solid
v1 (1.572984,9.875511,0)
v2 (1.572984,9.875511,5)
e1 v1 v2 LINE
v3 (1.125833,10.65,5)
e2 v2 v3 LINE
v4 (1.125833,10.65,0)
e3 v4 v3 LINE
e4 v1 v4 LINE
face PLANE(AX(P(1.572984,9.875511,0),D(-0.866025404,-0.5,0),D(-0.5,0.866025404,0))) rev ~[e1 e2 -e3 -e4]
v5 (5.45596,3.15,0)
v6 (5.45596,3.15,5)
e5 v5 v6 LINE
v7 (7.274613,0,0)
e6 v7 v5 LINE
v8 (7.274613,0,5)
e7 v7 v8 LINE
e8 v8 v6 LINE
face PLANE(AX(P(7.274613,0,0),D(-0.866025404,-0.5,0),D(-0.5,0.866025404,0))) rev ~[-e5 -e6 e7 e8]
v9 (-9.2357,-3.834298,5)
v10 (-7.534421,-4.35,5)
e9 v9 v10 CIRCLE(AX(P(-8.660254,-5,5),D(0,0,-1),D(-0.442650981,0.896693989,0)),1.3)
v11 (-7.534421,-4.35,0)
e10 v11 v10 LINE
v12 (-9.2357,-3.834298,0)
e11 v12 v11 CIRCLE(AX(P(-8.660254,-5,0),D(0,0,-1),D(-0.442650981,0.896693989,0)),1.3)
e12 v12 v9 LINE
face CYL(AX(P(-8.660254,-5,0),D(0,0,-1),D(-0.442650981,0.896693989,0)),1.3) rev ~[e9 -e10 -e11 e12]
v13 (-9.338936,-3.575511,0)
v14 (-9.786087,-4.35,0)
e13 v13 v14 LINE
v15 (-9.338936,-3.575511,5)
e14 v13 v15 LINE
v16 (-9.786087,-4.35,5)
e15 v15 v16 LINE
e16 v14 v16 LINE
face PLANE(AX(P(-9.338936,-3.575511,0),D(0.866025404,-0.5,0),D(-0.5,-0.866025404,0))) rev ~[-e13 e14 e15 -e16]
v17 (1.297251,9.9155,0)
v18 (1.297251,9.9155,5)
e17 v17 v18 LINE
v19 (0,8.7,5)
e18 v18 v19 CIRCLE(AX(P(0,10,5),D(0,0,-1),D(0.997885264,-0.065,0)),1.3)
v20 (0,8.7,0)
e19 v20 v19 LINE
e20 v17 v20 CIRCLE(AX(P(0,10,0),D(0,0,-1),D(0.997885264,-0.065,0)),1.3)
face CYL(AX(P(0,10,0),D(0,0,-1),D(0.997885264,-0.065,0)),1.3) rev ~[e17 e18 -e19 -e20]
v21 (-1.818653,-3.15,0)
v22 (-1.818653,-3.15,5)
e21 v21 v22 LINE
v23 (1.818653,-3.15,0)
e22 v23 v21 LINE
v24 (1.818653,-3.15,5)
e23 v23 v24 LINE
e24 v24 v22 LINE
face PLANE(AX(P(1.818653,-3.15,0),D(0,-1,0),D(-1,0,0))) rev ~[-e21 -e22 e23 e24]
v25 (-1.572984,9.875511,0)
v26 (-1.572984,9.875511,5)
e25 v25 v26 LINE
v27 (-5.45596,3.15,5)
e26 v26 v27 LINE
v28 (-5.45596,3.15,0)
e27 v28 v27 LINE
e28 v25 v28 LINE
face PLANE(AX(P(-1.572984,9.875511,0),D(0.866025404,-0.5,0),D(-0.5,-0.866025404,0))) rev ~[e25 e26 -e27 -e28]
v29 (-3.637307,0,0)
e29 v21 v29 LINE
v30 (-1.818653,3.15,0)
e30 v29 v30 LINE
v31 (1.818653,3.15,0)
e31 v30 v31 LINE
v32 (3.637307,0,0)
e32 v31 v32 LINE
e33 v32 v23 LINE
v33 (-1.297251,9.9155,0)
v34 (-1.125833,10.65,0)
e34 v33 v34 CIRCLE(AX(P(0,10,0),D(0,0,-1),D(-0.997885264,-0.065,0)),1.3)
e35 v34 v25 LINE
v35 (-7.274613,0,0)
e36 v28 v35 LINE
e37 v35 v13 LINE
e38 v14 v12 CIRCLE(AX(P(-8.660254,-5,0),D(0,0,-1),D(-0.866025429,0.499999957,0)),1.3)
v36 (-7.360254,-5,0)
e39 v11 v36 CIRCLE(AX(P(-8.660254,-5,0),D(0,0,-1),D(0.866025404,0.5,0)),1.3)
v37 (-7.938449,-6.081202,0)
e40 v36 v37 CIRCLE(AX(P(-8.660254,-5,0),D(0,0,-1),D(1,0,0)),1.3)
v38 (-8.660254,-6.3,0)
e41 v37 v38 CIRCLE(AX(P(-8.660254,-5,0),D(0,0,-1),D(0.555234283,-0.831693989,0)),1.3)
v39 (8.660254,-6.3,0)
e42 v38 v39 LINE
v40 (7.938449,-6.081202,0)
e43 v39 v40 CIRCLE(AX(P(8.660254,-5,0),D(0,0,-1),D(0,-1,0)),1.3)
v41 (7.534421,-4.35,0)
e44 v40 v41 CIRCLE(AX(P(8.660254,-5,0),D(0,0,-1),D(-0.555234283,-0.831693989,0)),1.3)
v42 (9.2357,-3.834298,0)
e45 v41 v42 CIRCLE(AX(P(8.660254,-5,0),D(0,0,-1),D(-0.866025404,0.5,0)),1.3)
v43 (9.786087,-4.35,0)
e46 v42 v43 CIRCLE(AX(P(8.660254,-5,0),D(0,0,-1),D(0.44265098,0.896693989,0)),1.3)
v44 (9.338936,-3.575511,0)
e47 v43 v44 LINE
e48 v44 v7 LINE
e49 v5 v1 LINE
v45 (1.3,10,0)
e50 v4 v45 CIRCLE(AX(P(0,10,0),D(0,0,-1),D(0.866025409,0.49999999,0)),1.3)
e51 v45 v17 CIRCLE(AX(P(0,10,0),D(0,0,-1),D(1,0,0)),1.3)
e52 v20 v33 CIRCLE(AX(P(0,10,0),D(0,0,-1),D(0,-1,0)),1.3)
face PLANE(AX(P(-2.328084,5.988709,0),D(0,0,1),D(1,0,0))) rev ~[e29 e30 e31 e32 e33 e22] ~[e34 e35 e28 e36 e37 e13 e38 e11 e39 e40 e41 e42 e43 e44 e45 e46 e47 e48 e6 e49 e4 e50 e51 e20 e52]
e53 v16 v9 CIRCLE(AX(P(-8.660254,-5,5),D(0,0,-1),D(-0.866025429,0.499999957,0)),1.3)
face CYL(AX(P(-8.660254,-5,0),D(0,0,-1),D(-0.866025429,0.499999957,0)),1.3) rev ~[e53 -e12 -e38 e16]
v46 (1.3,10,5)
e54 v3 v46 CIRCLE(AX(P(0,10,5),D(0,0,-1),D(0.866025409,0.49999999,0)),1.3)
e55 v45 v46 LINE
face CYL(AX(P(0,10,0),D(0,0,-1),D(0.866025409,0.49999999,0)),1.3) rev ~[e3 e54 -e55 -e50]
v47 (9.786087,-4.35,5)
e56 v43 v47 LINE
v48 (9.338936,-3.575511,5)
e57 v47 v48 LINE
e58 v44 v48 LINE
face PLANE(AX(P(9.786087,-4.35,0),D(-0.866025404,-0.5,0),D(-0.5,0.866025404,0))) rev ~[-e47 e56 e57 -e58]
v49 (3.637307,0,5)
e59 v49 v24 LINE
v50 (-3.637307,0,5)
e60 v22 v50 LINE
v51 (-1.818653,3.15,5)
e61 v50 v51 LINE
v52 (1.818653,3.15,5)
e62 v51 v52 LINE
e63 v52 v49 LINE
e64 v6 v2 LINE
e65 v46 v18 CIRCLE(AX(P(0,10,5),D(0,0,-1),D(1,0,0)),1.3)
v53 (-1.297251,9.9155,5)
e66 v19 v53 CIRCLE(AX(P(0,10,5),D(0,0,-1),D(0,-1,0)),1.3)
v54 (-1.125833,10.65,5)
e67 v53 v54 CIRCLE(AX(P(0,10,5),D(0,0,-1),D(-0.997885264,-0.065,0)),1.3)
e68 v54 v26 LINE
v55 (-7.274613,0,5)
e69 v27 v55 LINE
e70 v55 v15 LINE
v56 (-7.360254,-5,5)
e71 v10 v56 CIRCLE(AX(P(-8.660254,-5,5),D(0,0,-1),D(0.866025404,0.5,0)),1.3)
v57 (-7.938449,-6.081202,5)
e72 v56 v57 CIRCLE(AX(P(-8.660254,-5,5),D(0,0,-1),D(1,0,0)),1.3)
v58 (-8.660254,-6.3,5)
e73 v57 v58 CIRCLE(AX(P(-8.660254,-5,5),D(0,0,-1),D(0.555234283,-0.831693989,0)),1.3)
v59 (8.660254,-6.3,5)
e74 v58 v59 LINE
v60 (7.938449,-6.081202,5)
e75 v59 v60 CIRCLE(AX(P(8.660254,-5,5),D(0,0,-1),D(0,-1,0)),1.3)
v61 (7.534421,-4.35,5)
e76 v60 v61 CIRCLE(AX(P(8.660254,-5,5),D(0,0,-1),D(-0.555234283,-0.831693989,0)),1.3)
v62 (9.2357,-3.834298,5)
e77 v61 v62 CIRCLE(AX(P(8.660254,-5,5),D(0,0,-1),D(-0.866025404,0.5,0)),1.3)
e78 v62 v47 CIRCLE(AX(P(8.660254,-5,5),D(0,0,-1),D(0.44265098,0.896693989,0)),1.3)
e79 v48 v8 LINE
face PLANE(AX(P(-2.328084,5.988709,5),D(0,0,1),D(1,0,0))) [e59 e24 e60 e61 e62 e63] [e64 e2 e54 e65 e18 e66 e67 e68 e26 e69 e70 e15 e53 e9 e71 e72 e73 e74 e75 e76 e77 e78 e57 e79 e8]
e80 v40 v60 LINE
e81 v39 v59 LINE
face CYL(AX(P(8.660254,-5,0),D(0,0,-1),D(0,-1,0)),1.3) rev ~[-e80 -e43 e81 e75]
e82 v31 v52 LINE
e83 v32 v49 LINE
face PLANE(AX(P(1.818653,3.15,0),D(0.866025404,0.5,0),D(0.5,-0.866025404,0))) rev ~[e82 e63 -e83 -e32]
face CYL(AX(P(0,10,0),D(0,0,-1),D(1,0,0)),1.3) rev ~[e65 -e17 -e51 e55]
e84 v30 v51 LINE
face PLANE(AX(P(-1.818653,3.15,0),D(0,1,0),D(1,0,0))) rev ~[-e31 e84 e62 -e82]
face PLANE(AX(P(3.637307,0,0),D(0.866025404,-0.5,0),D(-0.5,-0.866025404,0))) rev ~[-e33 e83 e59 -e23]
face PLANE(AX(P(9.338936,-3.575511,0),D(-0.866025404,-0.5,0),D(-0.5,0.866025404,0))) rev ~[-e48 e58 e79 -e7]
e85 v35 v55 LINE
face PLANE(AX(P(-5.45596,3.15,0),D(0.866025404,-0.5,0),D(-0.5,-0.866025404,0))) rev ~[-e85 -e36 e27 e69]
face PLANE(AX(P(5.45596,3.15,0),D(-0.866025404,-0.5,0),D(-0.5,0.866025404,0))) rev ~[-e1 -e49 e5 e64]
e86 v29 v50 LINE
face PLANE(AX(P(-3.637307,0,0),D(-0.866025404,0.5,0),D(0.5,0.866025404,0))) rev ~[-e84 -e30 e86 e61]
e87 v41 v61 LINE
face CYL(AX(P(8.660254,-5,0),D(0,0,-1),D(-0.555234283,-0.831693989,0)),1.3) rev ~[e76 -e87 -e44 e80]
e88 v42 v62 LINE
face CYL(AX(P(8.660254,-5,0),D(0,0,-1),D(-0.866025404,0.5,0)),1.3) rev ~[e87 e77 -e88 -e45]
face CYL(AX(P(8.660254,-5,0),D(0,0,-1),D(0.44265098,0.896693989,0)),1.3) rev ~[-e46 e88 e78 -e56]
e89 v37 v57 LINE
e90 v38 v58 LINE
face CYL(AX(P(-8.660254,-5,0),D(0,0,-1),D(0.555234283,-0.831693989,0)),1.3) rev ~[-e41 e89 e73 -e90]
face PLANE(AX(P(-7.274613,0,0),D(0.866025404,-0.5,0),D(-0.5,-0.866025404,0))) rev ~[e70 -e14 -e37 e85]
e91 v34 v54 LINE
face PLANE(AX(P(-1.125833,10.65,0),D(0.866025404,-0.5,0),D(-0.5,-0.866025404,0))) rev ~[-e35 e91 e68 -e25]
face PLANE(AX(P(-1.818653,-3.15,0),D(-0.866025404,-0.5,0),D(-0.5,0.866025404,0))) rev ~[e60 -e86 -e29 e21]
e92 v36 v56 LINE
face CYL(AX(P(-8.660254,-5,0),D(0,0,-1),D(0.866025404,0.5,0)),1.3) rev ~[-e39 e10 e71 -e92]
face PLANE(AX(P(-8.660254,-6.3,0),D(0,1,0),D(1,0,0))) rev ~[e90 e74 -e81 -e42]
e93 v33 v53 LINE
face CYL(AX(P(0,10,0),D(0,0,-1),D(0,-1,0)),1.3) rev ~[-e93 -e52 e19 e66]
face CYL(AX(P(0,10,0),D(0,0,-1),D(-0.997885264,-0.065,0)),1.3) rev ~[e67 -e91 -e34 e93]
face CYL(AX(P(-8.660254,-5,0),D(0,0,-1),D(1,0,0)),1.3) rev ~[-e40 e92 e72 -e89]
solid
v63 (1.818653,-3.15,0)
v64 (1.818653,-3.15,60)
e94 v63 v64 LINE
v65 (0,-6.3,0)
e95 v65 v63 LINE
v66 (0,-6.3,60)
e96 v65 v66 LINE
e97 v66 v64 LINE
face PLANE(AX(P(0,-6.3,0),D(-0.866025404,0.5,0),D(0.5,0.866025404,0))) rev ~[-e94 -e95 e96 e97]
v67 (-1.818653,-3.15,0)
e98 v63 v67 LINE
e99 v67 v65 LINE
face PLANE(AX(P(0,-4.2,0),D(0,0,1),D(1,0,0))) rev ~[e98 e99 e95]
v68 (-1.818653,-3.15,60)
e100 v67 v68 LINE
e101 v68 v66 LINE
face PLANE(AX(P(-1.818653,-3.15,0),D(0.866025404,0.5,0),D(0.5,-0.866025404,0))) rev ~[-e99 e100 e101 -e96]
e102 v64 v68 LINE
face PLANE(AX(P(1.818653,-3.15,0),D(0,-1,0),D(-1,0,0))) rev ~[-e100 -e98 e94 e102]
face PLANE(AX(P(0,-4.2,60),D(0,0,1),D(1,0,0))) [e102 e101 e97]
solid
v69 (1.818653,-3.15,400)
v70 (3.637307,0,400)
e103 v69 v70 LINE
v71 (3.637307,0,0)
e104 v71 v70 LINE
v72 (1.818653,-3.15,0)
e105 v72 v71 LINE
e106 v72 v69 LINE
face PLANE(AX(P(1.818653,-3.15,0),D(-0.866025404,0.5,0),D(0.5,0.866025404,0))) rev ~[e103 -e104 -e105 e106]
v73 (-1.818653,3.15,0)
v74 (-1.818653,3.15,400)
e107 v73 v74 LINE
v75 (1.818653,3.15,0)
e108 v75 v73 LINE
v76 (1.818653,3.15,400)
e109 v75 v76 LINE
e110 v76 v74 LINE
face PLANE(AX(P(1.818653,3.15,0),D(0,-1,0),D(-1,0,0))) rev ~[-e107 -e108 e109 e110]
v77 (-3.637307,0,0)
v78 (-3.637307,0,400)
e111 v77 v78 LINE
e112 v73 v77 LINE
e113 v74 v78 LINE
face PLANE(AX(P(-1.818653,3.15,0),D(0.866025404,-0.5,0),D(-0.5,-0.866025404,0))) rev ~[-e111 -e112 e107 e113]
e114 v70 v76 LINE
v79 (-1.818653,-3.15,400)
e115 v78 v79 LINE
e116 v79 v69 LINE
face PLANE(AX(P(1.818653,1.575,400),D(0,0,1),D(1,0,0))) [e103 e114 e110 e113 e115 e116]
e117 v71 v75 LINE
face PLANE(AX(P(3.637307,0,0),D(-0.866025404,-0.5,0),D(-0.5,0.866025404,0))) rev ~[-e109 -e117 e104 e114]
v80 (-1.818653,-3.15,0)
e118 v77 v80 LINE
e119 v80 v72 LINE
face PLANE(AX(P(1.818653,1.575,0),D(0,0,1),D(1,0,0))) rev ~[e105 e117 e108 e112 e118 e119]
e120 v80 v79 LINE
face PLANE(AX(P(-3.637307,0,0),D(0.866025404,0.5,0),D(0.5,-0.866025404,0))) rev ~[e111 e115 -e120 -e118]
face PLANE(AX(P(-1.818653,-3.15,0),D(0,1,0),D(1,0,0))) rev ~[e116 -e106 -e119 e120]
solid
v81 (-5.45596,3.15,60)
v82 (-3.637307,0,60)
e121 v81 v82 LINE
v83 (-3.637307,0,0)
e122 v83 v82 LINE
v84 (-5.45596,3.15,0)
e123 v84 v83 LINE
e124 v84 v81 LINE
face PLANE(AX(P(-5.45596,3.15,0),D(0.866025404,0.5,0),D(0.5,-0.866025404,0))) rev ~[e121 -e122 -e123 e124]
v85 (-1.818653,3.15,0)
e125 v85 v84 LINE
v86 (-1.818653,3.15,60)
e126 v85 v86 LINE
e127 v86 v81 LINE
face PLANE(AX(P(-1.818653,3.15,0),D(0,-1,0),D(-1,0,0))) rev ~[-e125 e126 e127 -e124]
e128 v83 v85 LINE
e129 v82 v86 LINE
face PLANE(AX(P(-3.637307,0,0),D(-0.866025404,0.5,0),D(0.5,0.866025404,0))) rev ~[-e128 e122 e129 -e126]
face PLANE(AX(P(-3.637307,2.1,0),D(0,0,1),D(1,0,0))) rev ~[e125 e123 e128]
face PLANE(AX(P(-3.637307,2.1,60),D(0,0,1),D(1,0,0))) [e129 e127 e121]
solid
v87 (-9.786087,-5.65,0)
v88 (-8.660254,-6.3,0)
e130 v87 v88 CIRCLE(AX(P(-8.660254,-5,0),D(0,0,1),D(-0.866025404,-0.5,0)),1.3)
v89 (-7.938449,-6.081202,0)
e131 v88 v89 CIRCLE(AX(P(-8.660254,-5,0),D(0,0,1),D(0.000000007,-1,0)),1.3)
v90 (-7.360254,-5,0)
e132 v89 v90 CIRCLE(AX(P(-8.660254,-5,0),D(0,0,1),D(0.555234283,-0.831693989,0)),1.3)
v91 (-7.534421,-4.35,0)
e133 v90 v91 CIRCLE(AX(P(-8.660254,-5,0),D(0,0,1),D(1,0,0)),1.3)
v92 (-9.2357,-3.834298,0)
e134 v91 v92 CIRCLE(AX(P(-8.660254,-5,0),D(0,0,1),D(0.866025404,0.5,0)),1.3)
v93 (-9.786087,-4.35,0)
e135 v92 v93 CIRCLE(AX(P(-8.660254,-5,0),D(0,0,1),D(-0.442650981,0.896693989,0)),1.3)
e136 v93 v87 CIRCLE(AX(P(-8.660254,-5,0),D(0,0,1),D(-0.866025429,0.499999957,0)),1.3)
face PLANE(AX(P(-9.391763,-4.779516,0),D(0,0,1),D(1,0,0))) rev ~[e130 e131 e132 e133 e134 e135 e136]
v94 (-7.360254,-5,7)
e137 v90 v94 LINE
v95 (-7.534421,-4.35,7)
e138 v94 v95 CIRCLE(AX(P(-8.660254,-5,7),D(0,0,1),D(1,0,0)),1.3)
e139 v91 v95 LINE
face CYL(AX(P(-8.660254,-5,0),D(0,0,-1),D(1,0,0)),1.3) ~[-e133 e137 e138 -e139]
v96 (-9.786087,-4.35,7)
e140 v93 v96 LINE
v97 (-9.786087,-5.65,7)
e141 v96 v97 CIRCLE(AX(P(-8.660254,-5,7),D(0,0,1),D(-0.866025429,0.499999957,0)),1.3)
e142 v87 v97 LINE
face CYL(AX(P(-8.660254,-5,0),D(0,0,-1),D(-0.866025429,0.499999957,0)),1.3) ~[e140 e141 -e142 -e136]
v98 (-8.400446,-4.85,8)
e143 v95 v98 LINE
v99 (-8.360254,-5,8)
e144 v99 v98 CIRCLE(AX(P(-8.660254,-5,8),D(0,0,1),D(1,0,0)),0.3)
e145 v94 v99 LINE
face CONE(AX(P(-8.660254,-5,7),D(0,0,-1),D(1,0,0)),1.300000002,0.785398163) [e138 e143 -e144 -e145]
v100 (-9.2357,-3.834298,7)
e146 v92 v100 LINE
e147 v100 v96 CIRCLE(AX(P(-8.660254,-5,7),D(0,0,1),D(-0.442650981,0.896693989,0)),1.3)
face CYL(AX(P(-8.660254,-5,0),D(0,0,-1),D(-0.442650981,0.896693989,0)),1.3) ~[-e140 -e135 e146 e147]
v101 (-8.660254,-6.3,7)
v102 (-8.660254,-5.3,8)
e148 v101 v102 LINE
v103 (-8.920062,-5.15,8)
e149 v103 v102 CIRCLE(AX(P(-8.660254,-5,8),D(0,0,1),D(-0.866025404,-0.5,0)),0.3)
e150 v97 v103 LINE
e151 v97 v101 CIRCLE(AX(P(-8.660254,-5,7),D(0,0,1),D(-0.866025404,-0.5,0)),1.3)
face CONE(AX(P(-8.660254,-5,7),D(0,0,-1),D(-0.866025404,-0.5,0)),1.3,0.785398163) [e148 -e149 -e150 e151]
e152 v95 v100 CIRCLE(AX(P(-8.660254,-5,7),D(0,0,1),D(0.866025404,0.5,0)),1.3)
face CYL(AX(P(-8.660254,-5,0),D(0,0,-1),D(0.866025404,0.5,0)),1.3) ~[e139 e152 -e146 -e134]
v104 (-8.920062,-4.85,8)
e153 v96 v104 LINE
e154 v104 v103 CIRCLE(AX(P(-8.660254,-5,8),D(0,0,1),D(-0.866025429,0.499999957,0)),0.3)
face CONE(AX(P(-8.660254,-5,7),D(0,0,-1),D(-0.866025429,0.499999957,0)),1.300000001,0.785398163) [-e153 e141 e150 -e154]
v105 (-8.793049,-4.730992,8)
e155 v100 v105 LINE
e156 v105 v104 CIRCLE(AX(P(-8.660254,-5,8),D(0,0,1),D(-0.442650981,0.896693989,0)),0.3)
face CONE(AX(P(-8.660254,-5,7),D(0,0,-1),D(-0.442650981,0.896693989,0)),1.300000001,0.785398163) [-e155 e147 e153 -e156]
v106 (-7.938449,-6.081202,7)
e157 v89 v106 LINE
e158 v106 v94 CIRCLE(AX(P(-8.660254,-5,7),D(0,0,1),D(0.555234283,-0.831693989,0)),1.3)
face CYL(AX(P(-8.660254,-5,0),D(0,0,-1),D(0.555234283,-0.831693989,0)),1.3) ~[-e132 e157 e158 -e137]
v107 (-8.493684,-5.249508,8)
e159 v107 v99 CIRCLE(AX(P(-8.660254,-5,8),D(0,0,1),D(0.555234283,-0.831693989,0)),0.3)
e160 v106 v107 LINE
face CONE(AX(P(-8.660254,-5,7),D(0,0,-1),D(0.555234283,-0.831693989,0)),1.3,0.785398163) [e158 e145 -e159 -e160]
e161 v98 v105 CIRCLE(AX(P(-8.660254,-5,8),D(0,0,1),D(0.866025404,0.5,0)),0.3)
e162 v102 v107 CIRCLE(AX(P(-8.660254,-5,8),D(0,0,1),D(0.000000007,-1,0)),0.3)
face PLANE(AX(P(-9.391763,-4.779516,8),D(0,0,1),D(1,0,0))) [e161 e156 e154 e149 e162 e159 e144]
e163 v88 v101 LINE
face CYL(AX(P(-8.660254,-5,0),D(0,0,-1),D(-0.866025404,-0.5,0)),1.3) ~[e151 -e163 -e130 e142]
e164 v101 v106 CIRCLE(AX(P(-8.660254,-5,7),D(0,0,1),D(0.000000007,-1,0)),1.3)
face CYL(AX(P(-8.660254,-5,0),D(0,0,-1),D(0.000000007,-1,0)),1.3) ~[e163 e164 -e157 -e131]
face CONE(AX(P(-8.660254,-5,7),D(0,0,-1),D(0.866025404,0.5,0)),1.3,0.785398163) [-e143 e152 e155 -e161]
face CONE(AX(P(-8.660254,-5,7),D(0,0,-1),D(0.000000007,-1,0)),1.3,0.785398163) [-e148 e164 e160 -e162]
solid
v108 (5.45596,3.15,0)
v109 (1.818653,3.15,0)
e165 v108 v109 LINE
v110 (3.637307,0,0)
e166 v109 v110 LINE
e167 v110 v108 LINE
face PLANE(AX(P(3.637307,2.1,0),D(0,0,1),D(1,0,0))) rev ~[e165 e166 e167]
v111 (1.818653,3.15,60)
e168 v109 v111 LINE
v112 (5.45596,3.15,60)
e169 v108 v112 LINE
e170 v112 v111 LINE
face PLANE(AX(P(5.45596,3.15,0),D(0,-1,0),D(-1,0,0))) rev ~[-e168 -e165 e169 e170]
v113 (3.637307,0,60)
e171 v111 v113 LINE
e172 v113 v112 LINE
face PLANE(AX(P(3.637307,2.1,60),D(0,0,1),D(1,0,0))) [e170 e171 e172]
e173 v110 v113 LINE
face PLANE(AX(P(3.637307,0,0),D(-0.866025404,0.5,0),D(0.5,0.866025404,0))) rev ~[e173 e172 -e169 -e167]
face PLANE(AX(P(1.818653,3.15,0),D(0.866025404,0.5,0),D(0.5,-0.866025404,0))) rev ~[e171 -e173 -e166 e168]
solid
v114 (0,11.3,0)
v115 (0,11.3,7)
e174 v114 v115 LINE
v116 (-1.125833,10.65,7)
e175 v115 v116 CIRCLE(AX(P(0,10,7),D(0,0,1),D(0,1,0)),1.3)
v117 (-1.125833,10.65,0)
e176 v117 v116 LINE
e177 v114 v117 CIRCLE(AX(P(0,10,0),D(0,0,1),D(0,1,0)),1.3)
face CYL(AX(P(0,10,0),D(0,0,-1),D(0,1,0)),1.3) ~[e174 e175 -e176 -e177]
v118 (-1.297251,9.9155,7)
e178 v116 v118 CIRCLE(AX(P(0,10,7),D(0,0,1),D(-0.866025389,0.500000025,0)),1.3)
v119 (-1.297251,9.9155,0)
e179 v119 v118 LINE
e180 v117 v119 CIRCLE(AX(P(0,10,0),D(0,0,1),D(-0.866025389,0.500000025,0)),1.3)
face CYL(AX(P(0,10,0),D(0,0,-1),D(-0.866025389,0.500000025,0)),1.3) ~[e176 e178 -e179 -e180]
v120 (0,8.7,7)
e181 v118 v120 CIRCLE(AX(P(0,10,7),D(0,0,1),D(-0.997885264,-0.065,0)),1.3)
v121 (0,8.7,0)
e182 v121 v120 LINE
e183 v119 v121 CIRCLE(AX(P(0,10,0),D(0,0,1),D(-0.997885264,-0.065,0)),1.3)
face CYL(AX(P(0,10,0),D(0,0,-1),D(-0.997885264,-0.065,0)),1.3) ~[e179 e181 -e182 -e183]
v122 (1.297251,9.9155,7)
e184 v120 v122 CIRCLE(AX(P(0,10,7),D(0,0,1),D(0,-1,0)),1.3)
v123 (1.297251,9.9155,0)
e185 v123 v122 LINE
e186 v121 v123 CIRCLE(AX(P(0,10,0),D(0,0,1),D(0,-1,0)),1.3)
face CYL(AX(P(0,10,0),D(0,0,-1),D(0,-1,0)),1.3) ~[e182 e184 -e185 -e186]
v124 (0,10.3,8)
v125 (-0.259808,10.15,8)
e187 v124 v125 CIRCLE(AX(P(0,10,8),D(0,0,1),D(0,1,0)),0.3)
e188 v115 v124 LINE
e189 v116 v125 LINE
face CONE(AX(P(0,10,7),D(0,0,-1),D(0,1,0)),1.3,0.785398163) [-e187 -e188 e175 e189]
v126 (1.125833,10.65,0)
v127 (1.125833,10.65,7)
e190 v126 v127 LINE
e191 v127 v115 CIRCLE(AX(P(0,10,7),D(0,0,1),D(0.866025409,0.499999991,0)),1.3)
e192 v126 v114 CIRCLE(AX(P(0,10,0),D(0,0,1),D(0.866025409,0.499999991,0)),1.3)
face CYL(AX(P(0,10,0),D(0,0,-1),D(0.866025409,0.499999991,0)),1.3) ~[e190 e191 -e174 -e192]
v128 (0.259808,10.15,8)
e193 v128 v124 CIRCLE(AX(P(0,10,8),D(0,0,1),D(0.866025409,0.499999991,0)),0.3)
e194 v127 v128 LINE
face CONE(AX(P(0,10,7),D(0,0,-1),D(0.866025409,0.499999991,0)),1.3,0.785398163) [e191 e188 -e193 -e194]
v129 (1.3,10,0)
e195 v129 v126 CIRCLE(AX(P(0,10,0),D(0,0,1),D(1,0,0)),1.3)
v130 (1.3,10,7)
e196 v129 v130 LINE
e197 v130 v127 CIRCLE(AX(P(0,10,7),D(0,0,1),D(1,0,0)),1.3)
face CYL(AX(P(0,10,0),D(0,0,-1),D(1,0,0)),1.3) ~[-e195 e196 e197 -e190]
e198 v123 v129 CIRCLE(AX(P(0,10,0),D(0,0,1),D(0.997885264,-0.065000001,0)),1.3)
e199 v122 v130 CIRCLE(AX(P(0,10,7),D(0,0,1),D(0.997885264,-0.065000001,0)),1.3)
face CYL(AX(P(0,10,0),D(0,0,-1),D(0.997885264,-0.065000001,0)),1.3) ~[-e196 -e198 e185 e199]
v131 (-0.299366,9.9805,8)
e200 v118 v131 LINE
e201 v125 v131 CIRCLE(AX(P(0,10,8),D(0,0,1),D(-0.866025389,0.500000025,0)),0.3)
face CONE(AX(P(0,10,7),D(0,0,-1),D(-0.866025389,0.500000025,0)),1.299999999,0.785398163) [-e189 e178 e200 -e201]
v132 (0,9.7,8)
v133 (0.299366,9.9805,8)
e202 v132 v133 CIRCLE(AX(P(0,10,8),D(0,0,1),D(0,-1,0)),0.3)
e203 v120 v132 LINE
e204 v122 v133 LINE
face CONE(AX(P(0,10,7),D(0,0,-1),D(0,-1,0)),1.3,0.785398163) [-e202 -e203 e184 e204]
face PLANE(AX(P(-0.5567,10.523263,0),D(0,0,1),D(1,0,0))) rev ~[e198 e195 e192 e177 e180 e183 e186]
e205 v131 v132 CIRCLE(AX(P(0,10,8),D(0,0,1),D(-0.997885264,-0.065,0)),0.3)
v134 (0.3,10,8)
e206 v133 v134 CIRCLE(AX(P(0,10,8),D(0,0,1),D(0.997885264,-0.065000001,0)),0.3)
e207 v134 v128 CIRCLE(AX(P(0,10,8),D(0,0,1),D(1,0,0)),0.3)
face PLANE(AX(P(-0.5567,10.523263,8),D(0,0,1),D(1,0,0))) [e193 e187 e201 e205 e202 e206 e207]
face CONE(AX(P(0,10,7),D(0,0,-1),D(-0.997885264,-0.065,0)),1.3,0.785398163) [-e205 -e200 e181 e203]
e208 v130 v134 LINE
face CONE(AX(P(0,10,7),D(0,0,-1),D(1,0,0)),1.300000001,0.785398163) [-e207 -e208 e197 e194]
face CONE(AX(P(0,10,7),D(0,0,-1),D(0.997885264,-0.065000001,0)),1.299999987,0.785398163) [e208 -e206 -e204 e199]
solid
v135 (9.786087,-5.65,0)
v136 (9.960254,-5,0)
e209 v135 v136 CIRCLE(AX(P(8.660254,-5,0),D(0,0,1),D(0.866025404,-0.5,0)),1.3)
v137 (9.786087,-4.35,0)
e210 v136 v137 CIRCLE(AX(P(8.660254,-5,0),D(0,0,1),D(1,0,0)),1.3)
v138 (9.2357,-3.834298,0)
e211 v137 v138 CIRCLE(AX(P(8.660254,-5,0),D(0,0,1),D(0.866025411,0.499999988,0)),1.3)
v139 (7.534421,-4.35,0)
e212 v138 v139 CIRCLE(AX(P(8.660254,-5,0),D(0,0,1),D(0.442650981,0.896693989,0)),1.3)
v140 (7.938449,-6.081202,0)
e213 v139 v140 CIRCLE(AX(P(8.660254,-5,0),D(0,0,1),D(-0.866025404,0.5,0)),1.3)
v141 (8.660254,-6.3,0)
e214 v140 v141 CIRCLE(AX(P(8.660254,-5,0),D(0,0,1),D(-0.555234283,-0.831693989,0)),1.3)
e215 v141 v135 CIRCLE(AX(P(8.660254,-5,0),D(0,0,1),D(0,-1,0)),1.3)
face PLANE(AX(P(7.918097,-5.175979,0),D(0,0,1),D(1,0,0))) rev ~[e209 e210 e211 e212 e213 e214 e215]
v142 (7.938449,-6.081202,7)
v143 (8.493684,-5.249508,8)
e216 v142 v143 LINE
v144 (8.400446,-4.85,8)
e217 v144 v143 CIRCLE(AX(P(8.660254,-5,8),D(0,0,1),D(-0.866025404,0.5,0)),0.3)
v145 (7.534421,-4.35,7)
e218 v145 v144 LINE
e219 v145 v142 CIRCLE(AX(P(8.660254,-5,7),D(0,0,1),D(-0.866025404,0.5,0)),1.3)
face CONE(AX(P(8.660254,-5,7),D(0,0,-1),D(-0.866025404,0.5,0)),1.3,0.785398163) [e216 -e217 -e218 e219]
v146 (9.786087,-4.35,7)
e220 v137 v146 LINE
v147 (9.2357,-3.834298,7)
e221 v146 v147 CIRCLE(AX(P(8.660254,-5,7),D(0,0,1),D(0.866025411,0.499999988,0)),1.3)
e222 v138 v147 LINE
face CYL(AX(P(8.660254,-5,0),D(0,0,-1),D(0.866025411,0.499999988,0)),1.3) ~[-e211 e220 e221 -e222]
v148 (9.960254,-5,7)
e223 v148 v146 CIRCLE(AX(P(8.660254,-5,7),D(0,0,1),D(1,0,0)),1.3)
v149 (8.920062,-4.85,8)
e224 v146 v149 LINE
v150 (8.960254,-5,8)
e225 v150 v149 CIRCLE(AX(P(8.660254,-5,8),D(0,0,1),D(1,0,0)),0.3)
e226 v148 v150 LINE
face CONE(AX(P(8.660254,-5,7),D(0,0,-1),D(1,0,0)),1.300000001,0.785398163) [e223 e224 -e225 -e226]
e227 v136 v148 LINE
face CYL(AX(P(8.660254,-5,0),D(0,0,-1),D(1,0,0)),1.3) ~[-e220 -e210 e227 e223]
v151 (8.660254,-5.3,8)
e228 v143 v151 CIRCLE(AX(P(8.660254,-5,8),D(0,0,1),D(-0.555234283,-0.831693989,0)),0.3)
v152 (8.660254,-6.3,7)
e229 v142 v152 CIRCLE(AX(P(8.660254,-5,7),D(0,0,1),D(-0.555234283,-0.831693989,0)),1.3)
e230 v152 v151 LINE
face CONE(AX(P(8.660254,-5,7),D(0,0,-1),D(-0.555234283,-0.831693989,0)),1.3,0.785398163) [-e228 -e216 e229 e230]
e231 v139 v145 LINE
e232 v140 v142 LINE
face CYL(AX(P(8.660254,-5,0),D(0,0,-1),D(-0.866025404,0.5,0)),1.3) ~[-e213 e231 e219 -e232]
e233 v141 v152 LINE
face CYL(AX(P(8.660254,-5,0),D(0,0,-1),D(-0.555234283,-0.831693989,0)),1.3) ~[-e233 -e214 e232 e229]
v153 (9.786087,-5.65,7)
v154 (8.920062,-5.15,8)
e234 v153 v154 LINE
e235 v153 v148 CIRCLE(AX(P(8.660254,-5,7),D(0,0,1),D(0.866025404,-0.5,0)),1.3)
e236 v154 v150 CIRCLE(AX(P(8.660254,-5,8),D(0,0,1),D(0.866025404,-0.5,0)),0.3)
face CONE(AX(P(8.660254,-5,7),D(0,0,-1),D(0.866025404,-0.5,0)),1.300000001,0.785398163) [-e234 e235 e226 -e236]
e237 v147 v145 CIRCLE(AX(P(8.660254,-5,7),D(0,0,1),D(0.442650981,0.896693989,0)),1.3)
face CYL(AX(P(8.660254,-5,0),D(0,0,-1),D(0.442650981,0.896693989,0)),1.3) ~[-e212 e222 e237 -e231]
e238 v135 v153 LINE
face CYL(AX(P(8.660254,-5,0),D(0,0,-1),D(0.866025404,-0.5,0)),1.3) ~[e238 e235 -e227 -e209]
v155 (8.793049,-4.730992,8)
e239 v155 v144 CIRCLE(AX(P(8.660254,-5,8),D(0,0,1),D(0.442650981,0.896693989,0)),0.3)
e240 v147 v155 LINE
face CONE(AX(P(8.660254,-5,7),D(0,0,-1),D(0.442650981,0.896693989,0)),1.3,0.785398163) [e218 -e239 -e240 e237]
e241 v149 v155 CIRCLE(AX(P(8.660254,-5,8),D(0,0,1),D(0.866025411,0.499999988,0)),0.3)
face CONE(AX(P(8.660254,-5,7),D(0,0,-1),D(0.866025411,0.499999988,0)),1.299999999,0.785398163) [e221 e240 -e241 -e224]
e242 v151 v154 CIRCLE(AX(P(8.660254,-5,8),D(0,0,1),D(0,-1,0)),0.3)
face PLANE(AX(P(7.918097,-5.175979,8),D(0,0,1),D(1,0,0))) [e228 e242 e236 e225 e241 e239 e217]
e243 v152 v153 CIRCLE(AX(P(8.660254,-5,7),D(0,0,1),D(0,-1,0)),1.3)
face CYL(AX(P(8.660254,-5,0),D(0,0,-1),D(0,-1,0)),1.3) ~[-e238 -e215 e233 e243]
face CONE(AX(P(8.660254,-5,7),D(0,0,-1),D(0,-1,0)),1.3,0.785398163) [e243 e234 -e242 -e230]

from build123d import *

# Parameters (mm, degrees)
F1_DEPTH  = 5
F2_DEPTH  = 60
F3_DEPTH  = 400
F4_DEPTH  = 8
F5_SIZE   = 1
F5_2_SIZE = 1
F5_3_SIZE = 1


with BuildPart() as f1:
    # F0 (on Top) → F1 (new body)
    with BuildSketch(Plane.XY):
        with BuildLine():
            ThreePointArc((-1.2972508431, 9.9155), (-1.435256889, 9.8964659178), (-1.5729843808, 9.875511133))
            Line((-1.5729843808, 9.875511133), (-5.4559600438, 3.15))
            Line((-5.4559600438, 3.15), (-1.8186533479, 3.15))
            Line((-1.8186533479, 3.15), (0, 6.3))
            Line((0, 6.3), (0, 8.7))
            ThreePointArc((0, 8.7), (-0.8888616315, 9.0513562312), (-1.2972508431, 9.9155))
        make_face()
        with BuildLine():
            ThreePointArc((1.2972508431, 9.9155), (0.8888616315, 9.0513562312), (0, 8.7))
            Line((0, 8.7), (0, 6.3))
            Line((0, 6.3), (1.8186533479, 3.15))
            Line((1.8186533479, 3.15), (5.4559600438, 3.15))
            Line((5.4559600438, 3.15), (1.5729843808, 9.875511133))
            ThreePointArc((1.5729843808, 9.875511133), (1.435256889, 9.8964659178), (1.2972508431, 9.9155))
        make_face()
        Polygon((-5.4559600438, 3.15), (-7.2746133918, 0), (-3.6373066959, 0), align=None)
        with BuildLine():
            Line((-3.6373066959, 0), (-7.2746133918, 0))
            Line((-7.2746133918, 0), (-9.3389357069, -3.575511133))
            ThreePointArc((-9.3389357069, -3.575511133), (-9.288219337, -3.7052640321), (-9.2357003128, -3.8342978148))
            ThreePointArc((-9.2357003128, -3.8342978148), (-8.2831352507, -3.7559013623), (-7.5344210129, -4.35))
            Line((-7.5344210129, -4.35), (-5.4559600438, -3.15))
            Line((-5.4559600438, -3.15), (-3.6373066959, 0))
        make_face()
        with BuildLine():
            Line((-1.8186533479, -3.15), (-5.4559600438, -3.15))
            Line((-5.4559600438, -3.15), (-7.5344210129, -4.35))
            ThreePointArc((-7.5344210129, -4.35), (-7.4045504637, -4.6635352414), (-7.3602540378, -5))
            ThreePointArc((-7.3602540378, -5), (-7.513880203, -5.6130473315), (-7.9384494697, -6.0812021852))
            ThreePointArc((-7.9384494697, -6.0812021852), (-7.852962448, -6.1912018858), (-7.7659513261, -6.3))
            Line((-7.7659513261, -6.3), (0, -6.3))
            Line((0, -6.3), (-1.8186533479, -3.15))
        make_face()
        with BuildLine():
            Line((1.8186533479, -3.15), (0, -6.3))
            Line((0, -6.3), (7.7659513261, -6.3))
            ThreePointArc((7.7659513261, -6.3), (7.852962448, -6.1912018858), (7.9384494697, -6.0812021852))
            ThreePointArc((7.9384494697, -6.0812021852), (7.3942736192, -5.295454869), (7.5344210129, -4.35))
            Line((7.5344210129, -4.35), (5.4559600438, -3.15))
            Line((5.4559600438, -3.15), (1.8186533479, -3.15))
        make_face()
        with BuildLine():
            Line((3.6373066959, 0), (5.4559600438, -3.15))
            Line((5.4559600438, -3.15), (7.5344210129, -4.35))
            ThreePointArc((7.5344210129, -4.35), (8.2831352507, -3.7559013623), (9.2357003128, -3.8342978148))
            ThreePointArc((9.2357003128, -3.8342978148), (9.288219337, -3.7052640321), (9.3389357069, -3.575511133))
            Line((9.3389357069, -3.575511133), (7.2746133918, 0))
            Line((7.2746133918, 0), (3.6373066959, 0))
        make_face()
        Polygon((5.4559600438, 3.15), (3.6373066959, 0), (7.2746133918, 0), align=None)
        Polygon((-5.4559600438, 3.15), (-3.6373066959, 0), (-1.8186533479, 3.15), align=None)
        Polygon((1.8186533479, -3.15), (-1.8186533479, -3.15), (0, -6.3), align=None)
        Polygon((5.4559600438, 3.15), (1.8186533479, 3.15), (3.6373066959, 0), align=None)
        with BuildLine():
            Line((1.5729843808, 9.875511133), (1.125833032, 10.6499999878))
            ThreePointArc((1.125833032, 10.6499999878), (1.255703576, 10.3364647518), (1.3, 10))
            ThreePointArc((1.3, 10), (1.299312529, 9.9577276454), (1.2972508431, 9.9155))
            ThreePointArc((1.2972508431, 9.9155), (1.435256889, 9.8964659178), (1.5729843808, 9.875511133))
        make_face()
        with BuildLine():
            Line((-1.1258330062, 10.6500000324), (-1.5729843808, 9.875511133))
            ThreePointArc((-1.5729843808, 9.875511133), (-1.435256889, 9.8964659178), (-1.2972508431, 9.9155))
            ThreePointArc((-1.2972508431, 9.9155), (-1.2659804144, 10.2954548872), (-1.1258330062, 10.6500000324))
        make_face()
        with BuildLine():
            ThreePointArc((-9.2357003128, -3.8342978148), (-9.288219337, -3.7052640321), (-9.3389357069, -3.575511133))
            Line((-9.3389357069, -3.575511133), (-9.7860870951, -4.3500000559))
            ThreePointArc((-9.7860870951, -4.3500000559), (-9.5491156929, -4.0513562533), (-9.2357003128, -3.8342978148))
        make_face()
        with BuildLine():
            ThreePointArc((-7.9384494697, -6.0812021852), (-8.2831352461, -6.2440986363), (-8.6602540282, -6.3))
            Line((-8.6602540282, -6.3), (-7.7659513261, -6.3))
            ThreePointArc((-7.7659513261, -6.3), (-7.852962448, -6.1912018858), (-7.9384494697, -6.0812021852))
        make_face()
        with BuildLine():
            ThreePointArc((9.3389357069, -3.575511133), (9.288219337, -3.7052640321), (9.2357003128, -3.8342978148))
            ThreePointArc((9.2357003128, -3.8342978148), (9.5491156757, -4.0513562371), (9.7860870714, -4.3500000149))
            Line((9.7860870714, -4.3500000149), (9.3389357069, -3.575511133))
        make_face()
        with BuildLine():
            ThreePointArc((7.9384494697, -6.0812021852), (7.852962448, -6.1912018858), (7.7659513261, -6.3))
            Line((7.7659513261, -6.3), (8.6602540378, -6.3))
            ThreePointArc((8.6602540378, -6.3), (8.2831352507, -6.2440986377), (7.9384494697, -6.0812021852))
        make_face()
        Polygon((3.6373066959, 0), (2.7279800219, -1.575), (5.4559600438, -3.15), align=None)
        Polygon((5.4559600438, -3.15), (2.7279800219, -1.575), (1.8186533479, -3.15), align=None)
        Polygon((-2.7279800219, -1.575), (-3.6373066959, 0), (-5.4559600438, -3.15), align=None)
        Polygon((-1.8186533479, -3.15), (-2.7279800219, -1.575), (-5.4559600438, -3.15), align=None)
        Polygon((0, 6.3), (-1.8186533479, 3.15), (0, 3.15), align=None)
        Polygon((0, 6.3), (0, 3.15), (1.8186533479, 3.15), align=None)
    extrude(amount=F1_DEPTH)


with BuildPart() as f2:
    # F0 (on Top) → F2 (new body)
    with BuildSketch(Plane.XY):
        Polygon((-5.4559600438, 3.15), (-3.6373066959, 0), (-1.8186533479, 3.15), align=None)
    extrude(amount=F2_DEPTH)


with BuildPart() as f2b:
    # F0 (on Top) → F2, piece 2 (new body)
    with BuildSketch(Plane.XY):
        Polygon((1.8186533479, -3.15), (-1.8186533479, -3.15), (0, -6.3), align=None)
    extrude(amount=F2_DEPTH)


with BuildPart() as f2c:
    # F0 (on Top) → F2, piece 3 (new body)
    with BuildSketch(Plane.XY):
        Polygon((5.4559600438, 3.15), (1.8186533479, 3.15), (3.6373066959, 0), align=None)
    extrude(amount=F2_DEPTH)


with BuildPart() as f3:
    # F0 (on Top) → F3 (new body)
    with BuildSketch(Plane.XY):
        Polygon((1.8186533479, 3.15), (0, 3.15), (1.8186533479, 0), (3.6373066959, 0), align=None)
        Polygon((-1.8186533479, 3.15), (-3.6373066959, 0), (-1.8186533479, 0), (0, 3.15), align=None)
        Polygon((-1.8186533479, 0), (-3.6373066959, 0), (-2.7279800219, -1.575), align=None)
        Polygon((2.7279800219, -1.575), (-2.7279800219, -1.575), (-1.8186533479, -3.15), (1.8186533479, -3.15), align=None)
        Polygon((1.8186533479, 0), (2.7279800219, -1.575), (3.6373066959, 0), align=None)
        Polygon((1.8186533479, 0), (0, 0), (2.7279800219, -1.575), align=None)
        Polygon((0, 0), (-2.7279800219, -1.575), (2.7279800219, -1.575), align=None)
        Polygon((0, 0), (-1.8186533479, 0), (-2.7279800219, -1.575), align=None)
        Polygon((0, 3.15), (-1.8186533479, 0), (0, 0), align=None)
        Polygon((0, 3.15), (0, 0), (1.8186533479, 0), align=None)
    extrude(amount=F3_DEPTH)


with BuildPart() as f4:
    # F0 (on Top) → F4 (new body)
    with BuildSketch(Plane.XY):
        with BuildLine():
            ThreePointArc((0, 11.3), (-0.6499999838, 11.1258330343), (-1.1258330062, 10.6500000324))
            ThreePointArc((-1.1258330062, 10.6500000324), (-1.2659804144, 10.2954548872), (-1.2972508431, 9.9155))
            ThreePointArc((-1.2972508431, 9.9155), (-0.65, 9.9788526395), (0, 10))
            Line((0, 10), (0, 11.3))
        make_face()
        with BuildLine():
            ThreePointArc((0, 10), (-0.65, 9.9788526395), (-1.2972508431, 9.9155))
            ThreePointArc((-1.2972508431, 9.9155), (-0.8888616315, 9.0513562312), (0, 8.7))
            Line((0, 8.7), (0, 10))
        make_face()
        with BuildLine():
            ThreePointArc((1.2972508431, 9.9155), (0.65, 9.9788526395), (0, 10))
            Line((0, 10), (0, 8.7))
            ThreePointArc((0, 8.7), (0.8888616315, 9.0513562312), (1.2972508431, 9.9155))
        make_face()
        with BuildLine():
            ThreePointArc((1.125833032, 10.6499999878), (0.6500000061, 11.1258330214), (0, 11.3))
            Line((0, 11.3), (0, 10))
            ThreePointArc((0, 10), (0.65, 9.9788526395), (1.2972508431, 9.9155))
            ThreePointArc((1.2972508431, 9.9155), (1.299312529, 9.9577276454), (1.3, 10))
            ThreePointArc((1.3, 10), (1.255703576, 10.3364647518), (1.125833032, 10.6499999878))
        make_face()
    extrude(amount=F4_DEPTH)

    # F5#3
    f5_3_edges = [f4.edges().sort_by_distance(p)[0] for p in [
        (-1.297251, 10.0845, 8),
    ]]
    chamfer(f5_3_edges, length=F5_3_SIZE)


with BuildPart() as f4b:
    # F0 (on Top) → F4, piece 2 (new body)
    with BuildSketch(Plane.XY):
        with BuildLine():
            ThreePointArc((-9.2357003128, -3.8342978148), (-9.5491156929, -4.0513562533), (-9.7860870951, -4.3500000559))
            ThreePointArc((-9.7860870951, -4.3500000559), (-9.9602540378, -5.0000000323), (-9.7860870628, -5.65))
            Line((-9.7860870628, -5.65), (-8.6602540378, -5))
            ThreePointArc((-8.6602540378, -5), (-8.9669398864, -4.4265098073), (-9.2357003128, -3.8342978148))
        make_face()
        with BuildLine():
            Line((-8.6602540378, -5), (-9.7860870628, -5.65))
            ThreePointArc((-9.7860870628, -5.65), (-9.3102540337, -6.1258330273), (-8.6602540282, -6.3))
            ThreePointArc((-8.6602540282, -6.3), (-8.2831352461, -6.2440986363), (-7.9384494697, -6.0812021852))
            ThreePointArc((-7.9384494697, -6.0812021852), (-8.3169398864, -5.5523428322), (-8.6602540378, -5))
        make_face()
        with BuildLine():
            Line((-7.5344210129, -4.35), (-8.6602540378, -5))
            ThreePointArc((-8.6602540378, -5), (-8.3169398864, -5.5523428322), (-7.9384494697, -6.0812021852))
            ThreePointArc((-7.9384494697, -6.0812021852), (-7.513880203, -5.6130473315), (-7.3602540378, -5))
            ThreePointArc((-7.3602540378, -5), (-7.4045504637, -4.6635352414), (-7.5344210129, -4.35))
        make_face()
        with BuildLine():
            ThreePointArc((-7.5344210129, -4.35), (-8.2831352507, -3.7559013623), (-9.2357003128, -3.8342978148))
            ThreePointArc((-9.2357003128, -3.8342978148), (-8.9669398864, -4.4265098073), (-8.6602540378, -5))
            Line((-8.6602540378, -5), (-7.5344210129, -4.35))
        make_face()
    extrude(amount=F4_DEPTH)

    # F5
    f5_edges = [f4b.edges().sort_by_distance(p)[0] for p in [
        (-9.786087, -5.65, 8),
    ]]
    chamfer(f5_edges, length=F5_SIZE)


with BuildPart() as f4c:
    # F0 (on Top) → F4, piece 3 (new body)
    with BuildSketch(Plane.XY):
        with BuildLine():
            Line((8.6602540378, -5), (7.5344210129, -4.35))
            ThreePointArc((7.5344210129, -4.35), (7.3942736192, -5.295454869), (7.9384494697, -6.0812021852))
            ThreePointArc((7.9384494697, -6.0812021852), (8.3169398864, -5.5523428322), (8.6602540378, -5))
        make_face()
        with BuildLine():
            ThreePointArc((9.2357003128, -3.8342978148), (8.2831352507, -3.7559013623), (7.5344210129, -4.35))
            Line((7.5344210129, -4.35), (8.6602540378, -5))
            ThreePointArc((8.6602540378, -5), (8.9669398864, -4.4265098073), (9.2357003128, -3.8342978148))
        make_face()
        with BuildLine():
            ThreePointArc((9.2357003128, -3.8342978148), (8.9669398864, -4.4265098073), (8.6602540378, -5))
            Line((8.6602540378, -5), (9.7860870628, -5.65))
            ThreePointArc((9.7860870628, -5.65), (9.915957612, -5.3364647586), (9.9602540378, -5))
            ThreePointArc((9.9602540378, -5), (9.9159576142, -4.6635352497), (9.7860870714, -4.3500000149))
            ThreePointArc((9.7860870714, -4.3500000149), (9.5491156757, -4.0513562371), (9.2357003128, -3.8342978148))
        make_face()
        with BuildLine():
            ThreePointArc((7.9384494697, -6.0812021852), (8.2831352507, -6.2440986377), (8.6602540378, -6.3))
            ThreePointArc((8.6602540378, -6.3), (9.3102540378, -6.1258330249), (9.7860870628, -5.65))
            Line((9.7860870628, -5.65), (8.6602540378, -5))
            ThreePointArc((8.6602540378, -5), (8.3169398864, -5.5523428322), (7.9384494697, -6.0812021852))
        make_face()
    extrude(amount=F4_DEPTH)

    # F5#2
    f5_2_edges = [f4c.edges().sort_by_distance(p)[0] for p in [
        (9.382059, -3.918798, 8),
    ]]
    chamfer(f5_2_edges, length=F5_2_SIZE)


solid = Compound([f1.part, f2.part, f2b.part, f2c.part, f3.part, f4.part, f4b.part, f4c.part])
